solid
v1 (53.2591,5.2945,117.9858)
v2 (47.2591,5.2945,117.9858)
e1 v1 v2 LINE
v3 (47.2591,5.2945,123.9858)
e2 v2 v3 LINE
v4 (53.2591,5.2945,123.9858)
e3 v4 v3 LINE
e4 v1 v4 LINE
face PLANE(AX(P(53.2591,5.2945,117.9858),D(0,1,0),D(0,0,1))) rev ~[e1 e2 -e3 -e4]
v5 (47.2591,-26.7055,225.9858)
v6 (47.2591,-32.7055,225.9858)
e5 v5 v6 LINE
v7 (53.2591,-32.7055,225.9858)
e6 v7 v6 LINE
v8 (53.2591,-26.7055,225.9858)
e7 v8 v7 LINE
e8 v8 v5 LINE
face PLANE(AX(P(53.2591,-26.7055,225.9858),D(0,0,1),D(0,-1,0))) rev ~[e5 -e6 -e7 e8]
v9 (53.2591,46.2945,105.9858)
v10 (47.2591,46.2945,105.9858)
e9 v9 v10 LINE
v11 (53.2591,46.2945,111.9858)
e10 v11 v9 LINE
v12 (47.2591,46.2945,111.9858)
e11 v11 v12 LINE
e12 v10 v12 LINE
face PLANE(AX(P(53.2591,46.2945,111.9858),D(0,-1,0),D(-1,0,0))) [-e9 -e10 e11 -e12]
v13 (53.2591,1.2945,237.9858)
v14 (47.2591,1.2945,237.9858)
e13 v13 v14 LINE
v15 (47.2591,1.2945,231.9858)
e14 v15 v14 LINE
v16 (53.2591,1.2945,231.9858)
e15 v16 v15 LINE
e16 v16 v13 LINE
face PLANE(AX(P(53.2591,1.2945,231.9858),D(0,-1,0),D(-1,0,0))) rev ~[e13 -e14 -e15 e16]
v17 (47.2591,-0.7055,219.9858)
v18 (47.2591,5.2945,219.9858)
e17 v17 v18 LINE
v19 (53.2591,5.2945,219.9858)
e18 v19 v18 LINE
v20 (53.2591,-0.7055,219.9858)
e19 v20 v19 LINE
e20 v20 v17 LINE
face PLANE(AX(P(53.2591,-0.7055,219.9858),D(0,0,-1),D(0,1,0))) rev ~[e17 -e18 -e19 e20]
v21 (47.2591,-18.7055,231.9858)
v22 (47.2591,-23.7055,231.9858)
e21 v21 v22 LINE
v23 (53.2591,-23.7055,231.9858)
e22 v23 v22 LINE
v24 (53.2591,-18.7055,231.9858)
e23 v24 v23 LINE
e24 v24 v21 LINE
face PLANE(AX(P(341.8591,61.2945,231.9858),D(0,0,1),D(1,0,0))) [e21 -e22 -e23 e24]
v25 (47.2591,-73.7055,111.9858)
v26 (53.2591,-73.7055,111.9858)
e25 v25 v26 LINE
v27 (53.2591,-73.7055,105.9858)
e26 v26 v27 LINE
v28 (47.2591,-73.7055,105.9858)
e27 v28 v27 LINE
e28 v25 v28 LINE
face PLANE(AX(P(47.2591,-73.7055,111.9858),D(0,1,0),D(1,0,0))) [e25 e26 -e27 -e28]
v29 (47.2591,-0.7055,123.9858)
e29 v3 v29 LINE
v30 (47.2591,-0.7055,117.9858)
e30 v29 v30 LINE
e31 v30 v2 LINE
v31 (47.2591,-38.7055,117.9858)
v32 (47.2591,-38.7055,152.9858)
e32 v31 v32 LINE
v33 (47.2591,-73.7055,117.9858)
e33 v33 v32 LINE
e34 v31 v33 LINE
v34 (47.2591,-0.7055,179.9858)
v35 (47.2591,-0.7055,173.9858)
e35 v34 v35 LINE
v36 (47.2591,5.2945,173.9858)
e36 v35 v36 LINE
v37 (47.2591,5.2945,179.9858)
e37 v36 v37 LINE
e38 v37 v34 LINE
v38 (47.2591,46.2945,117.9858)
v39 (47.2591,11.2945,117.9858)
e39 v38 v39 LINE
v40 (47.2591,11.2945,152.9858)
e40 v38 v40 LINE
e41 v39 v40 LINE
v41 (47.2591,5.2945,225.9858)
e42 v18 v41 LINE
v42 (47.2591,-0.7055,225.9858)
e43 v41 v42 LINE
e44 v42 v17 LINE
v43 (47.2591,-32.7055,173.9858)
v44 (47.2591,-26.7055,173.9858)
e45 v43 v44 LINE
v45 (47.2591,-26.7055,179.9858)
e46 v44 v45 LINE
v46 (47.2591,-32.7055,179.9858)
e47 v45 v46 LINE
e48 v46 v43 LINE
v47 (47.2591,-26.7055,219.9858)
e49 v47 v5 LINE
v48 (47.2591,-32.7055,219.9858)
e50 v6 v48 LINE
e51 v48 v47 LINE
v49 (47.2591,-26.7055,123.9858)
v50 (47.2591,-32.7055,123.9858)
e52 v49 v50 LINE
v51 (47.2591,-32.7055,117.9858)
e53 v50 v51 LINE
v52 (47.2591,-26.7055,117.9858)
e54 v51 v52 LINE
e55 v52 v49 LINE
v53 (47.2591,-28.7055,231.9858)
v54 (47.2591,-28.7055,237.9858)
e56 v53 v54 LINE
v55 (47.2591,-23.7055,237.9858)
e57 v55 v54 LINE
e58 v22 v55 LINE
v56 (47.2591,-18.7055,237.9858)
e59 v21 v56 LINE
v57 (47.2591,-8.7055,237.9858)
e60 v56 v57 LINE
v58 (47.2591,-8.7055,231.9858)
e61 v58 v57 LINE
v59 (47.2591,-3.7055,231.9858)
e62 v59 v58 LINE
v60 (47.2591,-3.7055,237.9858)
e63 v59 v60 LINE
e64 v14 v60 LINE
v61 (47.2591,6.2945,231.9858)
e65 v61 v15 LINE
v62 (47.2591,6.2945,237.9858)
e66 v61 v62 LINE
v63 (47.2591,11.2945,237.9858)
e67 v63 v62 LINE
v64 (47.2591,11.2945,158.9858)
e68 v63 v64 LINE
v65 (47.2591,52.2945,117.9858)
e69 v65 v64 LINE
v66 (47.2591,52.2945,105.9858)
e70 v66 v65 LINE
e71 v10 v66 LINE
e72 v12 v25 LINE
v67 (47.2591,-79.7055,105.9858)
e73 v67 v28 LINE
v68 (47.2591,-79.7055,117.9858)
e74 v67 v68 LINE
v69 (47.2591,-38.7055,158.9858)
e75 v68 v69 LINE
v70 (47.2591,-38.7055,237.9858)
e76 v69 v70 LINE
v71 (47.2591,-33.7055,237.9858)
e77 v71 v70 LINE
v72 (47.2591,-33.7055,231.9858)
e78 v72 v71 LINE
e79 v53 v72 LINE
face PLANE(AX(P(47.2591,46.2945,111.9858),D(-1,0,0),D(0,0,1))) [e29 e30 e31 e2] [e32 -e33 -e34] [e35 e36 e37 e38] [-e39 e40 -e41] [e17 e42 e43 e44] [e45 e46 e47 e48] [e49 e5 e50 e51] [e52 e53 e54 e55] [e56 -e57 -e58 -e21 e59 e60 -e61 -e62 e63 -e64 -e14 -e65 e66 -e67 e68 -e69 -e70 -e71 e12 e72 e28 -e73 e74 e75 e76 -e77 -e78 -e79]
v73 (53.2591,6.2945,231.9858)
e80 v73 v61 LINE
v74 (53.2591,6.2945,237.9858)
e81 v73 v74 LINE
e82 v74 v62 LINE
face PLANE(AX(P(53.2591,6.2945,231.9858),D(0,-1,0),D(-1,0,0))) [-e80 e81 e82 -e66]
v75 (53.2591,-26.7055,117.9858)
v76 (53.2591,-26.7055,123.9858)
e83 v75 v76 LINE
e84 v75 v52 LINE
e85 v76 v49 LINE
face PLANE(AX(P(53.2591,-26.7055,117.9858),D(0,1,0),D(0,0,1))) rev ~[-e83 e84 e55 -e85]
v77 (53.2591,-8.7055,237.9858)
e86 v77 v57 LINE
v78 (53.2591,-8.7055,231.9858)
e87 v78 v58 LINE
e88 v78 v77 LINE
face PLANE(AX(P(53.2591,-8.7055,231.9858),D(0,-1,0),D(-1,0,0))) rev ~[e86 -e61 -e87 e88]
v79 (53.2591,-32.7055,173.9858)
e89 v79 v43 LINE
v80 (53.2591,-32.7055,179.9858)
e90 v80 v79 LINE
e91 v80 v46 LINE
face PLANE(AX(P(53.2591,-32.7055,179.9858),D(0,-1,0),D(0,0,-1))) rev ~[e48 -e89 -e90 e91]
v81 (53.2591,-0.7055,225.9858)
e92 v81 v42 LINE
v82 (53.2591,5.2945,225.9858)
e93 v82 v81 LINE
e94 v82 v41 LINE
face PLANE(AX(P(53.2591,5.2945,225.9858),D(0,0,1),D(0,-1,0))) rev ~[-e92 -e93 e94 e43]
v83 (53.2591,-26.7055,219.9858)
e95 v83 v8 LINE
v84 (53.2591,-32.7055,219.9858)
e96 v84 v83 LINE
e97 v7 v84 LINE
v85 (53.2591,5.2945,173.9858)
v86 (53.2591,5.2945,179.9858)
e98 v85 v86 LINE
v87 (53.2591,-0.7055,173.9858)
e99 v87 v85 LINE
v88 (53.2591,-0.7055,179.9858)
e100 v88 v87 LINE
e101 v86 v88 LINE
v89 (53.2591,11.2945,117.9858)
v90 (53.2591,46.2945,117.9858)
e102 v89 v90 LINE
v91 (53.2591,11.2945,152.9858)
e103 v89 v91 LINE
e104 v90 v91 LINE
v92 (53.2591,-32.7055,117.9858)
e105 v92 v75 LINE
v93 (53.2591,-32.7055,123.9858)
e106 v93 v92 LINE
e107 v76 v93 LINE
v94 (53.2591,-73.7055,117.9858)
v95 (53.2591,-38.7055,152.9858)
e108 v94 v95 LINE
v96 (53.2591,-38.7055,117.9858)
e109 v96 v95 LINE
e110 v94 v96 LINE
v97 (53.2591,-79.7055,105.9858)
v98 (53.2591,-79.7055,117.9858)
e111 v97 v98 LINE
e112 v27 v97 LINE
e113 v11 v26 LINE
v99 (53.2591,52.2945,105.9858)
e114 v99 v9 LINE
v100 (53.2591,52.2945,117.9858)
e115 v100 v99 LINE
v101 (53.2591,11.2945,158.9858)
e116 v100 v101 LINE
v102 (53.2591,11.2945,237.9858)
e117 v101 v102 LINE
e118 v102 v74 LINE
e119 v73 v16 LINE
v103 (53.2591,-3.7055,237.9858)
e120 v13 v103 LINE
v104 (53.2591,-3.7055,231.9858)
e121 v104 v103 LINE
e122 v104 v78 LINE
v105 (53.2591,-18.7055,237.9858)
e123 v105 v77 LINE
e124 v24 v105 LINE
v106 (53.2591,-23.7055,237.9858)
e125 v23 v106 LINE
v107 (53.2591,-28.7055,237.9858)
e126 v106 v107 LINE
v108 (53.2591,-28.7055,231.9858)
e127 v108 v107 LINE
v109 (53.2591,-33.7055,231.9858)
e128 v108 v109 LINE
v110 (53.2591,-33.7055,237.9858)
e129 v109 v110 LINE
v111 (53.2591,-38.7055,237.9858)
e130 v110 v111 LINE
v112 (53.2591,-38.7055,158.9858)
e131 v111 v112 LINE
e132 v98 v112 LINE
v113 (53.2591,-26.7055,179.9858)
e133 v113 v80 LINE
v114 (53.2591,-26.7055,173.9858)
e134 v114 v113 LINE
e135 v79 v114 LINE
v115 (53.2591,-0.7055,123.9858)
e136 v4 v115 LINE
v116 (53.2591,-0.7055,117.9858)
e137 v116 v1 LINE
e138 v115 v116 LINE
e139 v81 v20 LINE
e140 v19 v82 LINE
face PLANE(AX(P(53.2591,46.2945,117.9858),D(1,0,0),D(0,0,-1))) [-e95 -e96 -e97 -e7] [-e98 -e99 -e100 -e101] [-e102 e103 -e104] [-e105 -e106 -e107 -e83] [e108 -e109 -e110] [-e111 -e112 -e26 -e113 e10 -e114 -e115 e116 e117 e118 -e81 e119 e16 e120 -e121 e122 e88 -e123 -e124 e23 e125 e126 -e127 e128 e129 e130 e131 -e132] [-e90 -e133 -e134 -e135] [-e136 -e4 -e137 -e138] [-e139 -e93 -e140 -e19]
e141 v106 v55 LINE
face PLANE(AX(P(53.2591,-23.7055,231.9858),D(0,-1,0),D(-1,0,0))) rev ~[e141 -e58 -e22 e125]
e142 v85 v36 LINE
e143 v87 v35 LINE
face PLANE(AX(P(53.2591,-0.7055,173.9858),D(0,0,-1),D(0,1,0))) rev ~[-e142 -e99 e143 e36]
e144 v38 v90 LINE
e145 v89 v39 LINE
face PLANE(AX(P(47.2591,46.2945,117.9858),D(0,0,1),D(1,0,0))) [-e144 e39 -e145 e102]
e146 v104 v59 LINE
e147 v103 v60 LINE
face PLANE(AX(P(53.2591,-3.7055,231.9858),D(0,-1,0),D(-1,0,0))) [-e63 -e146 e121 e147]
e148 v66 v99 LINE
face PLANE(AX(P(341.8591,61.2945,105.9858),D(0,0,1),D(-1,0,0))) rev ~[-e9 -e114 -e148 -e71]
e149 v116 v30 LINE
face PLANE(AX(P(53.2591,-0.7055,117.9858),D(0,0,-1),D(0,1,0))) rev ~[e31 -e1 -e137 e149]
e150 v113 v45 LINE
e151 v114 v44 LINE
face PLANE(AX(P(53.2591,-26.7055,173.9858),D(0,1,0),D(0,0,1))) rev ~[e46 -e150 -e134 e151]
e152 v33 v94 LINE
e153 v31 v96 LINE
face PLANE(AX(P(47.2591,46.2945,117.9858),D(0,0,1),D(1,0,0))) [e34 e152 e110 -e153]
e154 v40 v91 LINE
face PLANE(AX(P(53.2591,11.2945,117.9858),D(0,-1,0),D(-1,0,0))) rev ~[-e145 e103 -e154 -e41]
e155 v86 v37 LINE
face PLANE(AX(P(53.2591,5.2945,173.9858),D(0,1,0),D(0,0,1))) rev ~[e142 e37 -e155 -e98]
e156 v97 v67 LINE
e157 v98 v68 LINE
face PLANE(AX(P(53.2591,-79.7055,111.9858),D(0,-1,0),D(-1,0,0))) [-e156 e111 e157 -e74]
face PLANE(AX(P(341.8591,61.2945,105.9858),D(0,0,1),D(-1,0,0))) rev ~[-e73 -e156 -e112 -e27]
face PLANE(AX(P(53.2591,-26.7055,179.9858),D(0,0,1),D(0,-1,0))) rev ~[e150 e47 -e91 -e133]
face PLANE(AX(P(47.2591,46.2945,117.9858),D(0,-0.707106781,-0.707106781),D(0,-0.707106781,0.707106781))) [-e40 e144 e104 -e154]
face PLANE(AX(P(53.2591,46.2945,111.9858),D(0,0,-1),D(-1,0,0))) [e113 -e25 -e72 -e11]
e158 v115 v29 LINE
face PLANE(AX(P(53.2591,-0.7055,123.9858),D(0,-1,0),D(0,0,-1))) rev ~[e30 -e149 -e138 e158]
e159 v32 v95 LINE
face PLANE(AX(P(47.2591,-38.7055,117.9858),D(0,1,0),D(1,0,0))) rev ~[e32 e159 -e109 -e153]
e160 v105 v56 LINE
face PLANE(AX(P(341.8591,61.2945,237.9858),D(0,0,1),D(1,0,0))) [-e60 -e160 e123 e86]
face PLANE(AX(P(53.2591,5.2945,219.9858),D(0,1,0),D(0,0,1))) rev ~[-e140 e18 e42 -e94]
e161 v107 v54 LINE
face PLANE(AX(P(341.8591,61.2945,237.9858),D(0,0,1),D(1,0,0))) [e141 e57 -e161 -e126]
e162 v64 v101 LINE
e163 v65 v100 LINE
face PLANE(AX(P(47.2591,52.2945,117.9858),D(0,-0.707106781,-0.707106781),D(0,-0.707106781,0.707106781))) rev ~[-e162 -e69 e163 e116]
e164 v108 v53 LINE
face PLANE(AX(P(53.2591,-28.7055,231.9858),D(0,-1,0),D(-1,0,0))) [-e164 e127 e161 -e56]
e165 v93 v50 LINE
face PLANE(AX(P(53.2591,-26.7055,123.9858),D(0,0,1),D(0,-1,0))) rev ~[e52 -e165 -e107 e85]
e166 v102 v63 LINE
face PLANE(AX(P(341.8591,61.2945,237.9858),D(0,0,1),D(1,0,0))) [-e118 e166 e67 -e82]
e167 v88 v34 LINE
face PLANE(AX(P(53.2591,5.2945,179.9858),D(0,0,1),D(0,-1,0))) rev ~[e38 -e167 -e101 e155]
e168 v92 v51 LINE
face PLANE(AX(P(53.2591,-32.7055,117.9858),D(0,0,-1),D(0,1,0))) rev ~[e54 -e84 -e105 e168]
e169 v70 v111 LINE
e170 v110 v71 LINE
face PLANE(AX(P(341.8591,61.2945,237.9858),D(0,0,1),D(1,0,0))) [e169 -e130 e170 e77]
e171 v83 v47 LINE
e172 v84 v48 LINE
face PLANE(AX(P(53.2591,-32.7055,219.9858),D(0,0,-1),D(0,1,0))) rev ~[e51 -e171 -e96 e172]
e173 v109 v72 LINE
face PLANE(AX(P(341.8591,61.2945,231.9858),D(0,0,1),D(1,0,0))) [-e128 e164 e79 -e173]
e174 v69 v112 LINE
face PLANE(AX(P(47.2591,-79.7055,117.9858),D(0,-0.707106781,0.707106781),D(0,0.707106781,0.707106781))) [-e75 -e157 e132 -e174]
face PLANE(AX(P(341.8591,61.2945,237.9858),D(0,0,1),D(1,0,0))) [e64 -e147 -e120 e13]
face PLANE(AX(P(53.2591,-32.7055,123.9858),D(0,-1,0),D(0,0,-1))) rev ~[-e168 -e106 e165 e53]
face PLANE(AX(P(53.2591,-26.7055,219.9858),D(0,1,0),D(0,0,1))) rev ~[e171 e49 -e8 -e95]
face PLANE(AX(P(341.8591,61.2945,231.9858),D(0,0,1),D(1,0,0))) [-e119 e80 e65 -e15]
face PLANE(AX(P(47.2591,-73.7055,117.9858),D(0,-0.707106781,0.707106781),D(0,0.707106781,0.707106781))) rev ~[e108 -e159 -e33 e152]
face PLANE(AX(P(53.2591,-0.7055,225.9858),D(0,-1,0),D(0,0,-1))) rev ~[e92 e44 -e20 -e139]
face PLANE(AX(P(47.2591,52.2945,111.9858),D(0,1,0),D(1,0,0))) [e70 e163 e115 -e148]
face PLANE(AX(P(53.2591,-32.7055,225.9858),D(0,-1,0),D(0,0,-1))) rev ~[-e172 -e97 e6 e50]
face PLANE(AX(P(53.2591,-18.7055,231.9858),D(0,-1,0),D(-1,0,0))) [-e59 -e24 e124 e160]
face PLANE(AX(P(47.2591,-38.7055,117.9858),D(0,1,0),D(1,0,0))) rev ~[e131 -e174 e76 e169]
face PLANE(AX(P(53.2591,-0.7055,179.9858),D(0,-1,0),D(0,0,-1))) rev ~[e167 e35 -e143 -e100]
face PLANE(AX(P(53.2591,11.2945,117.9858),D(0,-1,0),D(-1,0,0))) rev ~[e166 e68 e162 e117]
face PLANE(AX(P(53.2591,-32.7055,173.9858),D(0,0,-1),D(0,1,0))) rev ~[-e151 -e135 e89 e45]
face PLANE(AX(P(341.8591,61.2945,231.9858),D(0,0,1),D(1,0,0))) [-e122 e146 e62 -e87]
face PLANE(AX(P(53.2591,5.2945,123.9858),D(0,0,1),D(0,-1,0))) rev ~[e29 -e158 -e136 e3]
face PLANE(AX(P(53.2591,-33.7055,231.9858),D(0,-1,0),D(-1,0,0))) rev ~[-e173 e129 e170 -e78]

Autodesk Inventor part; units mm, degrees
ref_plane "YZ Plane" through (0, 0, 0) normal (1, 0, 0) x (0, 1, 0)
ref_plane "XZ Plane" through (0, 0, 0) normal (0, 1, 0) x (-1, 0, 0)
ref_plane "XY Plane" through (0, 0, 0) normal (0, 0, 1) x (1, 0, 0)
ref_plane "Work Plane1" through (341.8591, 61.2945, 111.9858) normal (0, 0, 1) x (-1, 0, 0)
sketch "Sketch1" plane through (341.8591, 61.2945, 111.9858) normal (0, 0, 1) x (-1, 0, 0)
  line L0 (-28.8, 19.9) -> (-22.6, 19.9)
  line L1 (-28.8, 3) -> (-28.8, 19.9)
  line L2 (-28.8, 3) -> (262.8, 3)
  line L3 (262.8, 3) -> (262.8, -3)
  line L4 (262.8, -3) -> (-28.8, -3)
  line L5 (-28.8, -19.9) -> (-28.8, -3)
  line L6 (-13.3962, -19.9) -> (-28.8, -19.9)
  line L7 (-8.2, -22.9) -> (-13.3962, -19.9)
  line L8 (-8.2, -19.9) -> (-8.2, -22.9)
  arc A0 (-6.2, -19.9) -> (-8.2, -19.9) centre (-7.2, -19.9) ccw
  line L9 (-6.2, -22.9) -> (-6.2, -19.9)
  line L10 (-1.0038, -19.9) -> (-6.2, -22.9)
  line L11 (15.4038, -19.9) -> (-1.0038, -19.9)
  line L12 (20.6, -22.9) -> (15.4038, -19.9)
  line L13 (20.6, -19.9) -> (20.6, -22.9)
  arc A1 (22.6, -19.9) -> (20.6, -19.9) centre (21.6, -19.9) ccw
  line L14 (22.6, -22.9) -> (22.6, -19.9)
  line L15 (27.7962, -19.9) -> (22.6, -22.9)
  line L16 (44.2038, -19.9) -> (27.7962, -19.9)
  line L17 (49.4, -22.9) -> (44.2038, -19.9)
  line L18 (49.4, -19.9) -> (49.4, -22.9)
  arc A2 (51.4, -19.9) -> (49.4, -19.9) centre (50.4, -19.9) ccw
  line L19 (51.4, -22.9) -> (51.4, -19.9)
  line L20 (56.5962, -19.9) -> (51.4, -22.9)
  line L21 (73.0038, -19.9) -> (56.5962, -19.9)
  line L22 (78.2, -22.9) -> (73.0038, -19.9)
  line L23 (78.2, -19.9) -> (78.2, -22.9)
  arc A3 (80.2, -19.9) -> (78.2, -19.9) centre (79.2, -19.9) ccw
  line L24 (80.2, -22.9) -> (80.2, -19.9)
  line L25 (85.3962, -19.9) -> (80.2, -22.9)
  line L26 (101.8038, -19.9) -> (85.3962, -19.9)
  line L27 (107, -22.9) -> (101.8038, -19.9)
  line L28 (107, -19.9) -> (107, -22.9)
  arc A4 (109, -19.9) -> (107, -19.9) centre (108, -19.9) ccw
  line L29 (109, -22.9) -> (109, -19.9)
  line L30 (114.1962, -19.9) -> (109, -22.9)
  line L31 (130.6038, -19.9) -> (114.1962, -19.9)
  line L32 (135.8, -22.9) -> (130.6038, -19.9)
  line L33 (135.8, -19.9) -> (135.8, -22.9)
  arc A5 (137.8, -19.9) -> (135.8, -19.9) centre (136.8, -19.9) ccw
  line L34 (137.8, -22.9) -> (137.8, -19.9)
  line L35 (142.9962, -19.9) -> (137.8, -22.9)
  line L36 (159.4038, -19.9) -> (142.9962, -19.9)
  line L37 (164.6, -22.9) -> (159.4038, -19.9)
  line L38 (164.6, -19.9) -> (164.6, -22.9)
  arc A6 (166.6, -19.9) -> (164.6, -19.9) centre (165.6, -19.9) ccw
  line L39 (166.6, -22.9) -> (166.6, -19.9)
  line L40 (171.7962, -19.9) -> (166.6, -22.9)
  line L41 (188.2038, -19.9) -> (171.7962, -19.9)
  line L42 (193.4, -22.9) -> (188.2038, -19.9)
  line L43 (193.4, -19.9) -> (193.4, -22.9)
  arc A7 (195.4, -19.9) -> (193.4, -19.9) centre (194.4, -19.9) ccw
  line L44 (195.4, -22.9) -> (195.4, -19.9)
  line L45 (200.5962, -19.9) -> (195.4, -22.9)
  line L46 (217.0038, -19.9) -> (200.5962, -19.9)
  line L47 (222.2, -22.9) -> (217.0038, -19.9)
  line L48 (222.2, -19.9) -> (222.2, -22.9)
  arc A8 (224.2, -19.9) -> (222.2, -19.9) centre (223.2, -19.9) ccw
  line L49 (224.2, -22.9) -> (224.2, -19.9)
  line L50 (229.3962, -19.9) -> (224.2, -22.9)
  line L51 (245.8038, -19.9) -> (229.3962, -19.9)
  line L52 (251, -22.9) -> (245.8038, -19.9)
  line L53 (251, -19.9) -> (251, -22.9)
  arc A9 (253, -19.9) -> (251, -19.9) centre (252, -19.9) ccw
  line L54 (253, -22.9) -> (253, -19.9)
  line L55 (258.1962, -19.9) -> (253, -22.9)
  line L56 (274.6038, -19.9) -> (258.1962, -19.9)
  line L57 (279.8, -22.9) -> (274.6038, -19.9)
  line L58 (279.8, -19.9) -> (279.8, -22.9)
  arc A10 (281.8, -19.9) -> (279.8, -19.9) centre (280.8, -19.9) ccw
  line L59 (281.8, -22.9) -> (281.8, -19.9)
  line L60 (286.9962, -19.9) -> (281.8, -22.9)
  line L61 (303.4038, -19.9) -> (286.9962, -19.9)
  line L62 (308.6, -22.9) -> (303.4038, -19.9)
  line L63 (308.6, -19.9) -> (308.6, -22.9)
  arc A11 (310.6, -19.9) -> (308.6, -19.9) centre (309.6, -19.9) ccw
  line L64 (310.6, -22.9) -> (310.6, -19.9)
  line L65 (315.7962, -19.9) -> (310.6, -22.9)
  line L66 (332.2038, -19.9) -> (315.7962, -19.9)
  line L67 (337.4, -22.9) -> (332.2038, -19.9)
  line L68 (337.4, -19.9) -> (337.4, -22.9)
  arc A12 (339.4, -19.9) -> (337.4, -19.9) centre (338.4, -19.9) ccw
  line L69 (339.4, -22.9) -> (339.4, -19.9)
  line L70 (344.5962, -19.9) -> (339.4, -22.9)
  line L71 (361.0038, -19.9) -> (344.5962, -19.9)
  line L72 (366.2, -22.9) -> (361.0038, -19.9)
  line L73 (366.2, -19.9) -> (366.2, -22.9)
  arc A13 (368.2, -19.9) -> (366.2, -19.9) centre (367.2, -19.9) ccw
  line L74 (368.2, -22.9) -> (368.2, -19.9)
  line L75 (373.3962, -19.9) -> (368.2, -22.9)
  line L76 (389.8038, -19.9) -> (373.3962, -19.9)
  line L77 (395, -22.9) -> (389.8038, -19.9)
  line L78 (395, -19.9) -> (395, -22.9)
  arc A14 (397, -19.9) -> (395, -19.9) centre (396, -19.9) ccw
  line L79 (397, -22.9) -> (397, -19.9)
  line L80 (402.1962, -19.9) -> (397, -22.9)
  line L81 (418.6038, -19.9) -> (402.1962, -19.9)
  line L82 (423.8, -22.9) -> (418.6038, -19.9)
  line L83 (423.8, -19.9) -> (423.8, -22.9)
  arc A15 (425.8, -19.9) -> (423.8, -19.9) centre (424.8, -19.9) ccw
  line L84 (425.8, -22.9) -> (425.8, -19.9)
  line L85 (430.9962, -19.9) -> (425.8, -22.9)
  line L86 (447.4038, -19.9) -> (430.9962, -19.9)
  line L87 (452.6, -22.9) -> (447.4038, -19.9)
  line L88 (452.6, -19.9) -> (452.6, -22.9)
  arc A16 (454.6, -19.9) -> (452.6, -19.9) centre (453.6, -19.9) ccw
  line L89 (454.6, -22.9) -> (454.6, -19.9)
  line L90 (459.7962, -19.9) -> (454.6, -22.9)
  line L91 (476.2038, -19.9) -> (459.7962, -19.9)
  line L92 (481.4, -22.9) -> (476.2038, -19.9)
  line L93 (481.4, -19.9) -> (481.4, -22.9)
  arc A17 (483.4, -19.9) -> (481.4, -19.9) centre (482.4, -19.9) ccw
  line L94 (483.4, -22.9) -> (483.4, -19.9)
  line L95 (488.5962, -19.9) -> (483.4, -22.9)
  line L96 (505.0038, -19.9) -> (488.5962, -19.9)
  line L97 (510.2, -22.9) -> (505.0038, -19.9)
  line L98 (510.2, -19.9) -> (510.2, -22.9)
  arc A18 (512.2, -19.9) -> (510.2, -19.9) centre (511.2, -19.9) ccw
  line L99 (512.2, -22.9) -> (512.2, -19.9)
  line L100 (517.3962, -19.9) -> (512.2, -22.9)
  line L101 (533.8038, -19.9) -> (517.3962, -19.9)
  line L102 (539, -22.9) -> (533.8038, -19.9)
  line L103 (539, -19.9) -> (539, -22.9)
  arc A19 (541, -19.9) -> (539, -19.9) centre (540, -19.9) ccw
  line L104 (541, -22.9) -> (541, -19.9)
  line L105 (546.1962, -19.9) -> (541, -22.9)
  line L106 (546.1962, -19.9) -> (554.4, -19.9)
  line L107 (554.4, 19.9) -> (554.4, -19.9)
  line L108 (531.7962, 19.9) -> (554.4, 19.9)
  line L109 (526.6, 22.9) -> (531.7962, 19.9)
  line L110 (526.6, 19.9) -> (526.6, 22.9)
  arc A20 (524.6, 19.9) -> (526.6, 19.9) centre (525.6, 19.9) ccw
  line L111 (524.6, 22.9) -> (524.6, 19.9)
  line L112 (519.4038, 19.9) -> (524.6, 22.9)
  line L113 (502.9962, 19.9) -> (519.4038, 19.9)
  line L114 (497.8, 22.9) -> (502.9962, 19.9)
  line L115 (497.8, 19.9) -> (497.8, 22.9)
  arc A21 (495.8, 19.9) -> (497.8, 19.9) centre (496.8, 19.9) ccw
  line L116 (495.8, 22.9) -> (495.8, 19.9)
  line L117 (490.6038, 19.9) -> (495.8, 22.9)
  line L118 (474.1962, 19.9) -> (490.6038, 19.9)
  line L119 (469, 22.9) -> (474.1962, 19.9)
  line L120 (469, 19.9) -> (469, 22.9)
  arc A22 (467, 19.9) -> (469, 19.9) centre (468, 19.9) ccw
  line L121 (467, 22.9) -> (467, 19.9)
  line L122 (461.8038, 19.9) -> (467, 22.9)
  line L123 (445.3962, 19.9) -> (461.8038, 19.9)
  line L124 (440.2, 22.9) -> (445.3962, 19.9)
  line L125 (440.2, 19.9) -> (440.2, 22.9)
  arc A23 (438.2, 19.9) -> (440.2, 19.9) centre (439.2, 19.9) ccw
  line L126 (438.2, 22.9) -> (438.2, 19.9)
  line L127 (433.0038, 19.9) -> (438.2, 22.9)
  line L128 (416.5962, 19.9) -> (433.0038, 19.9)
  line L129 (411.4, 22.9) -> (416.5962, 19.9)
  line L130 (411.4, 19.9) -> (411.4, 22.9)
  arc A24 (409.4, 19.9) -> (411.4, 19.9) centre (410.4, 19.9) ccw
  line L131 (409.4, 22.9) -> (409.4, 19.9)
  line L132 (404.2038, 19.9) -> (409.4, 22.9)
  line L133 (387.7962, 19.9) -> (404.2038, 19.9)
  line L134 (382.6, 22.9) -> (387.7962, 19.9)
  line L135 (382.6, 19.9) -> (382.6, 22.9)
  arc A25 (380.6, 19.9) -> (382.6, 19.9) centre (381.6, 19.9) ccw
  line L136 (380.6, 22.9) -> (380.6, 19.9)
  line L137 (375.4038, 19.9) -> (380.6, 22.9)
  line L138 (358.9962, 19.9) -> (375.4038, 19.9)
  line L139 (353.8, 22.9) -> (358.9962, 19.9)
  line L140 (353.8, 19.9) -> (353.8, 22.9)
  arc A26 (351.8, 19.9) -> (353.8, 19.9) centre (352.8, 19.9) ccw
  line L141 (351.8, 22.9) -> (351.8, 19.9)
  line L142 (346.6038, 19.9) -> (351.8, 22.9)
  line L143 (330.1962, 19.9) -> (346.6038, 19.9)
  line L144 (325, 22.9) -> (330.1962, 19.9)
  line L145 (325, 19.9) -> (325, 22.9)
  arc A27 (323, 19.9) -> (325, 19.9) centre (324, 19.9) ccw
  line L146 (323, 22.9) -> (323, 19.9)
  line L147 (317.8038, 19.9) -> (323, 22.9)
  line L148 (301.3962, 19.9) -> (317.8038, 19.9)
  line L149 (296.2, 22.9) -> (301.3962, 19.9)
  line L150 (296.2, 19.9) -> (296.2, 22.9)
  arc A28 (294.2, 19.9) -> (296.2, 19.9) centre (295.2, 19.9) ccw
  line L151 (294.2, 22.9) -> (294.2, 19.9)
  line L152 (289.0038, 19.9) -> (294.2, 22.9)
  line L153 (272.5962, 19.9) -> (289.0038, 19.9)
  line L154 (267.4, 22.9) -> (272.5962, 19.9)
  line L155 (267.4, 19.9) -> (267.4, 22.9)
  arc A29 (265.4, 19.9) -> (267.4, 19.9) centre (266.4, 19.9) ccw
  line L156 (265.4, 22.9) -> (265.4, 19.9)
  line L157 (260.2038, 19.9) -> (265.4, 22.9)
  line L158 (243.7962, 19.9) -> (260.2038, 19.9)
  line L159 (238.6, 22.9) -> (243.7962, 19.9)
  line L160 (238.6, 19.9) -> (238.6, 22.9)
  arc A30 (236.6, 19.9) -> (238.6, 19.9) centre (237.6, 19.9) ccw
  line L161 (236.6, 22.9) -> (236.6, 19.9)
  line L162 (231.4038, 19.9) -> (236.6, 22.9)
  line L163 (214.9962, 19.9) -> (231.4038, 19.9)
  line L164 (209.8, 22.9) -> (214.9962, 19.9)
  line L165 (209.8, 19.9) -> (209.8, 22.9)
  arc A31 (207.8, 19.9) -> (209.8, 19.9) centre (208.8, 19.9) ccw
  line L166 (207.8, 22.9) -> (207.8, 19.9)
  line L167 (202.6038, 19.9) -> (207.8, 22.9)
  line L168 (186.1962, 19.9) -> (202.6038, 19.9)
  line L169 (181, 22.9) -> (186.1962, 19.9)
  line L170 (181, 19.9) -> (181, 22.9)
  arc A32 (179, 19.9) -> (181, 19.9) centre (180, 19.9) ccw
  line L171 (179, 22.9) -> (179, 19.9)
  line L172 (173.8038, 19.9) -> (179, 22.9)
  line L173 (157.3962, 19.9) -> (173.8038, 19.9)
  line L174 (152.2, 22.9) -> (157.3962, 19.9)
  line L175 (152.2, 19.9) -> (152.2, 22.9)
  arc A33 (150.2, 19.9) -> (152.2, 19.9) centre (151.2, 19.9) ccw
  line L176 (150.2, 22.9) -> (150.2, 19.9)
  line L177 (145.0038, 19.9) -> (150.2, 22.9)
  line L178 (128.5962, 19.9) -> (145.0038, 19.9)
  line L179 (123.4, 22.9) -> (128.5962, 19.9)
  line L180 (123.4, 19.9) -> (123.4, 22.9)
  arc A34 (121.4, 19.9) -> (123.4, 19.9) centre (122.4, 19.9) ccw
  line L181 (121.4, 22.9) -> (121.4, 19.9)
  line L182 (116.2038, 19.9) -> (121.4, 22.9)
  line L183 (99.7962, 19.9) -> (116.2038, 19.9)
  line L184 (94.6, 22.9) -> (99.7962, 19.9)
  line L185 (94.6, 19.9) -> (94.6, 22.9)
  arc A35 (92.6, 19.9) -> (94.6, 19.9) centre (93.6, 19.9) ccw
  line L186 (92.6, 22.9) -> (92.6, 19.9)
  line L187 (87.4038, 19.9) -> (92.6, 22.9)
  line L188 (70.9962, 19.9) -> (87.4038, 19.9)
  line L189 (65.8, 22.9) -> (70.9962, 19.9)
  line L190 (65.8, 19.9) -> (65.8, 22.9)
  arc A36 (63.8, 19.9) -> (65.8, 19.9) centre (64.8, 19.9) ccw
  line L191 (63.8, 22.9) -> (63.8, 19.9)
  line L192 (58.6038, 19.9) -> (63.8, 22.9)
  line L193 (42.1962, 19.9) -> (58.6038, 19.9)
  line L194 (37, 22.9) -> (42.1962, 19.9)
  line L195 (37, 19.9) -> (37, 22.9)
  arc A37 (35, 19.9) -> (37, 19.9) centre (36, 19.9) ccw
  line L196 (35, 22.9) -> (35, 19.9)
  line L197 (29.8038, 19.9) -> (35, 22.9)
  line L198 (13.3962, 19.9) -> (29.8038, 19.9)
  line L199 (8.2, 22.9) -> (13.3962, 19.9)
  line L200 (8.2, 19.9) -> (8.2, 22.9)
  arc A38 (6.2, 19.9) -> (8.2, 19.9) centre (7.2, 19.9) ccw
  line L201 (6.2, 22.9) -> (6.2, 19.9)
  line L202 (1.0038, 19.9) -> (6.2, 22.9)
  line L203 (-15.4038, 19.9) -> (1.0038, 19.9)
  line L204 (-20.6, 22.9) -> (-15.4038, 19.9)
  line L205 (-20.6, 19.9) -> (-20.6, 22.9)
  arc A39 (-22.6, 19.9) -> (-20.6, 19.9) centre (-21.6, 19.9) ccw
  line L206 (525, 9) -> (519, 9)
  line L207 (519, 9) -> (519, 15)
  line L208 (519, 15) -> (525, 15)
  line L209 (525, 15) -> (525, 9)
  line L210 (525, -9) -> (525, -15)
  line L211 (525, -15) -> (519, -15)
  line L212 (519, -15) -> (519, -9)
  line L213 (519, -9) -> (525, -9)
  line L214 (467.4, 9) -> (461.4, 9)
  line L215 (461.4, 9) -> (461.4, 15)
  line L216 (461.4, 15) -> (467.4, 15)
  line L217 (467.4, 15) -> (467.4, 9)
  line L218 (467.4, -9) -> (467.4, -15)
  line L219 (467.4, -15) -> (461.4, -15)
  line L220 (461.4, -15) -> (461.4, -9)
  line L221 (461.4, -9) -> (467.4, -9)
  line L222 (409.8, 9) -> (403.8, 9)
  line L223 (403.8, 9) -> (403.8, 15)
  line L224 (403.8, 15) -> (409.8, 15)
  line L225 (409.8, 15) -> (409.8, 9)
  line L226 (409.8, -9) -> (409.8, -15)
  line L227 (409.8, -15) -> (403.8, -15)
  line L228 (403.8, -15) -> (403.8, -9)
  line L229 (403.8, -9) -> (409.8, -9)
  line L230 (352.2, 9) -> (346.2, 9)
  line L231 (346.2, 9) -> (346.2, 15)
  line L232 (346.2, 15) -> (352.2, 15)
  line L233 (352.2, 15) -> (352.2, 9)
  line L234 (352.2, -9) -> (352.2, -15)
  line L235 (352.2, -15) -> (346.2, -15)
  line L236 (346.2, -15) -> (346.2, -9)
  line L237 (346.2, -9) -> (352.2, -9)
  line L238 (294.6, 9) -> (288.6, 9)
  line L239 (288.6, 9) -> (288.6, 15)
  line L240 (288.6, 15) -> (294.6, 15)
  line L241 (294.6, 15) -> (294.6, 9)
  line L242 (294.6, -9) -> (294.6, -15)
  line L243 (294.6, -15) -> (288.6, -15)
  line L244 (288.6, -15) -> (288.6, -9)
  line L245 (288.6, -9) -> (294.6, -9)
  line L246 (237, 9) -> (231, 9)
  line L247 (231, 9) -> (231, 15)
  line L248 (231, 15) -> (237, 15)
  line L249 (237, 15) -> (237, 9)
  line L250 (237, -9) -> (237, -15)
  line L251 (237, -15) -> (231, -15)
  line L252 (231, -15) -> (231, -9)
  line L253 (231, -9) -> (237, -9)
  line L254 (179.4, 9) -> (173.4, 9)
  line L255 (173.4, 9) -> (173.4, 15)
  line L256 (173.4, 15) -> (179.4, 15)
  line L257 (179.4, 15) -> (179.4, 9)
  line L258 (179.4, -9) -> (179.4, -15)
  line L259 (179.4, -15) -> (173.4, -15)
  line L260 (173.4, -15) -> (173.4, -9)
  line L261 (173.4, -9) -> (179.4, -9)
  line L262 (121.8, 9) -> (115.8, 9)
  line L263 (115.8, 9) -> (115.8, 15)
  line L264 (115.8, 15) -> (121.8, 15)
  line L265 (121.8, 15) -> (121.8, 9)
  line L266 (121.8, -9) -> (121.8, -15)
  line L267 (121.8, -15) -> (115.8, -15)
  line L268 (115.8, -15) -> (115.8, -9)
  line L269 (115.8, -9) -> (121.8, -9)
  line L270 (64.2, 9) -> (58.2, 9)
  line L271 (58.2, 9) -> (58.2, 15)
  line L272 (58.2, 15) -> (64.2, 15)
  line L273 (64.2, 15) -> (64.2, 9)
  line L274 (64.2, -9) -> (64.2, -15)
  line L275 (64.2, -15) -> (58.2, -15)
  line L276 (58.2, -15) -> (58.2, -9)
  line L277 (58.2, -9) -> (64.2, -9)
  line L278 (6.6, 9) -> (0.6, 9)
  line L279 (0.6, 9) -> (0.6, 15)
  line L280 (0.6, 15) -> (6.6, 15)
  line L281 (6.6, 15) -> (6.6, 9)
  line L282 (6.6, -9) -> (6.6, -15)
  line L283 (6.6, -15) -> (0.6, -15)
  line L284 (0.6, -15) -> (0.6, -9)
  line L285 (0.6, -9) -> (6.6, -9)
  line L286 (-28.8, 169.9) -> (-22.6, 169.9)
  line L287 (-28.8, 153) -> (-28.8, 169.9)
  line L288 (-28.8, 153) -> (262.8, 153)
  line L289 (262.8, 153) -> (262.8, 147)
  line L290 (262.8, 147) -> (-28.8, 147)
  line L291 (-28.8, 130.1) -> (-28.8, 147)
  line L292 (-13.3962, 130.1) -> (-28.8, 130.1)
  line L293 (-8.2, 127.1) -> (-13.3962, 130.1)
  line L294 (-8.2, 130.1) -> (-8.2, 127.1)
  arc A40 (-6.2, 130.1) -> (-8.2, 130.1) centre (-7.2, 130.1) ccw
  line L295 (-6.2, 127.1) -> (-6.2, 130.1)
  line L296 (-1.0038, 130.1) -> (-6.2, 127.1)
  line L297 (15.4038, 130.1) -> (-1.0038, 130.1)
  line L298 (20.6, 127.1) -> (15.4038, 130.1)
  line L299 (20.6, 130.1) -> (20.6, 127.1)
  arc A41 (22.6, 130.1) -> (20.6, 130.1) centre (21.6, 130.1) ccw
  line L300 (22.6, 127.1) -> (22.6, 130.1)
  line L301 (27.7962, 130.1) -> (22.6, 127.1)
  line L302 (44.2038, 130.1) -> (27.7962, 130.1)
  line L303 (49.4, 127.1) -> (44.2038, 130.1)
  line L304 (49.4, 130.1) -> (49.4, 127.1)
  arc A42 (51.4, 130.1) -> (49.4, 130.1) centre (50.4, 130.1) ccw
  line L305 (51.4, 127.1) -> (51.4, 130.1)
  line L306 (56.5962, 130.1) -> (51.4, 127.1)
  line L307 (73.0038, 130.1) -> (56.5962, 130.1)
  line L308 (78.2, 127.1) -> (73.0038, 130.1)
  line L309 (78.2, 130.1) -> (78.2, 127.1)
  arc A43 (80.2, 130.1) -> (78.2, 130.1) centre (79.2, 130.1) ccw
  line L310 (80.2, 127.1) -> (80.2, 130.1)
  line L311 (85.3962, 130.1) -> (80.2, 127.1)
  line L312 (101.8038, 130.1) -> (85.3962, 130.1)
  line L313 (107, 127.1) -> (101.8038, 130.1)
  line L314 (107, 130.1) -> (107, 127.1)
  arc A44 (109, 130.1) -> (107, 130.1) centre (108, 130.1) ccw
  line L315 (109, 127.1) -> (109, 130.1)
  line L316 (114.1962, 130.1) -> (109, 127.1)
  line L317 (130.6038, 130.1) -> (114.1962, 130.1)
  line L318 (135.8, 127.1) -> (130.6038, 130.1)
  line L319 (135.8, 130.1) -> (135.8, 127.1)
  arc A45 (137.8, 130.1) -> (135.8, 130.1) centre (136.8, 130.1) ccw
  line L320 (137.8, 127.1) -> (137.8, 130.1)
  line L321 (142.9962, 130.1) -> (137.8, 127.1)
  line L322 (159.4038, 130.1) -> (142.9962, 130.1)
  line L323 (164.6, 127.1) -> (159.4038, 130.1)
  line L324 (164.6, 130.1) -> (164.6, 127.1)
  arc A46 (166.6, 130.1) -> (164.6, 130.1) centre (165.6, 130.1) ccw
  line L325 (166.6, 127.1) -> (166.6, 130.1)
  line L326 (171.7962, 130.1) -> (166.6, 127.1)
  line L327 (188.2038, 130.1) -> (171.7962, 130.1)
  line L328 (193.4, 127.1) -> (188.2038, 130.1)
  line L329 (193.4, 130.1) -> (193.4, 127.1)
  arc A47 (195.4, 130.1) -> (193.4, 130.1) centre (194.4, 130.1) ccw
  line L330 (195.4, 127.1) -> (195.4, 130.1)
  line L331 (200.5962, 130.1) -> (195.4, 127.1)
  line L332 (217.0038, 130.1) -> (200.5962, 130.1)
  line L333 (222.2, 127.1) -> (217.0038, 130.1)
  line L334 (222.2, 130.1) -> (222.2, 127.1)
  arc A48 (224.2, 130.1) -> (222.2, 130.1) centre (223.2, 130.1) ccw
  line L335 (224.2, 127.1) -> (224.2, 130.1)
  line L336 (229.3962, 130.1) -> (224.2, 127.1)
  line L337 (245.8038, 130.1) -> (229.3962, 130.1)
  line L338 (251, 127.1) -> (245.8038, 130.1)
  line L339 (251, 130.1) -> (251, 127.1)
  arc A49 (253, 130.1) -> (251, 130.1) centre (252, 130.1) ccw
  line L340 (253, 127.1) -> (253, 130.1)
  line L341 (258.1962, 130.1) -> (253, 127.1)
  line L342 (274.6038, 130.1) -> (258.1962, 130.1)
  line L343 (279.8, 127.1) -> (274.6038, 130.1)
  line L344 (279.8, 130.1) -> (279.8, 127.1)
  arc A50 (281.8, 130.1) -> (279.8, 130.1) centre (280.8, 130.1) ccw
  line L345 (281.8, 127.1) -> (281.8, 130.1)
  line L346 (286.9962, 130.1) -> (281.8, 127.1)
  line L347 (303.4038, 130.1) -> (286.9962, 130.1)
  line L348 (308.6, 127.1) -> (303.4038, 130.1)
  line L349 (308.6, 130.1) -> (308.6, 127.1)
  arc A51 (310.6, 130.1) -> (308.6, 130.1) centre (309.6, 130.1) ccw
  line L350 (310.6, 127.1) -> (310.6, 130.1)
  line L351 (315.7962, 130.1) -> (310.6, 127.1)
  line L352 (332.2038, 130.1) -> (315.7962, 130.1)
  line L353 (337.4, 127.1) -> (332.2038, 130.1)
  line L354 (337.4, 130.1) -> (337.4, 127.1)
  arc A52 (339.4, 130.1) -> (337.4, 130.1) centre (338.4, 130.1) ccw
  line L355 (339.4, 127.1) -> (339.4, 130.1)
  line L356 (344.5962, 130.1) -> (339.4, 127.1)
  line L357 (361.0038, 130.1) -> (344.5962, 130.1)
  line L358 (366.2, 127.1) -> (361.0038, 130.1)
  line L359 (366.2, 130.1) -> (366.2, 127.1)
  arc A53 (368.2, 130.1) -> (366.2, 130.1) centre (367.2, 130.1) ccw
  line L360 (368.2, 127.1) -> (368.2, 130.1)
  line L361 (373.3962, 130.1) -> (368.2, 127.1)
  line L362 (389.8038, 130.1) -> (373.3962, 130.1)
  line L363 (395, 127.1) -> (389.8038, 130.1)
  line L364 (395, 130.1) -> (395, 127.1)
  arc A54 (397, 130.1) -> (395, 130.1) centre (396, 130.1) ccw
  line L365 (397, 127.1) -> (397, 130.1)
  line L366 (402.1962, 130.1) -> (397, 127.1)
  line L367 (418.6038, 130.1) -> (402.1962, 130.1)
  line L368 (423.8, 127.1) -> (418.6038, 130.1)
  line L369 (423.8, 130.1) -> (423.8, 127.1)
  arc A55 (425.8, 130.1) -> (423.8, 130.1) centre (424.8, 130.1) ccw
  line L370 (425.8, 127.1) -> (425.8, 130.1)
  line L371 (430.9962, 130.1) -> (425.8, 127.1)
  line L372 (447.4038, 130.1) -> (430.9962, 130.1)
  line L373 (452.6, 127.1) -> (447.4038, 130.1)
  line L374 (452.6, 130.1) -> (452.6, 127.1)
  arc A56 (454.6, 130.1) -> (452.6, 130.1) centre (453.6, 130.1) ccw
  line L375 (454.6, 127.1) -> (454.6, 130.1)
  line L376 (459.7962, 130.1) -> (454.6, 127.1)
  line L377 (476.2038, 130.1) -> (459.7962, 130.1)
  line L378 (481.4, 127.1) -> (476.2038, 130.1)
  line L379 (481.4, 130.1) -> (481.4, 127.1)
  arc A57 (483.4, 130.1) -> (481.4, 130.1) centre (482.4, 130.1) ccw
  line L380 (483.4, 127.1) -> (483.4, 130.1)
  line L381 (488.5962, 130.1) -> (483.4, 127.1)
  line L382 (505.0038, 130.1) -> (488.5962, 130.1)
  line L383 (510.2, 127.1) -> (505.0038, 130.1)
  line L384 (510.2, 130.1) -> (510.2, 127.1)
  arc A58 (512.2, 130.1) -> (510.2, 130.1) centre (511.2, 130.1) ccw
  line L385 (512.2, 127.1) -> (512.2, 130.1)
  line L386 (517.3962, 130.1) -> (512.2, 127.1)
  line L387 (533.8038, 130.1) -> (517.3962, 130.1)
  line L388 (539, 127.1) -> (533.8038, 130.1)
  line L389 (539, 130.1) -> (539, 127.1)
  arc A59 (541, 130.1) -> (539, 130.1) centre (540, 130.1) ccw
  line L390 (541, 127.1) -> (541, 130.1)
  line L391 (546.1962, 130.1) -> (541, 127.1)
  line L392 (546.1962, 130.1) -> (554.4, 130.1)
  line L393 (554.4, 169.9) -> (554.4, 130.1)
  line L394 (531.7962, 169.9) -> (554.4, 169.9)
  line L395 (526.6, 172.9) -> (531.7962, 169.9)
  line L396 (526.6, 169.9) -> (526.6, 172.9)
  arc A60 (524.6, 169.9) -> (526.6, 169.9) centre (525.6, 169.9) ccw
  line L397 (524.6, 172.9) -> (524.6, 169.9)
  line L398 (519.4038, 169.9) -> (524.6, 172.9)
  line L399 (502.9962, 169.9) -> (519.4038, 169.9)
  line L400 (497.8, 172.9) -> (502.9962, 169.9)
  line L401 (497.8, 169.9) -> (497.8, 172.9)
  arc A61 (495.8, 169.9) -> (497.8, 169.9) centre (496.8, 169.9) ccw
  line L402 (495.8, 172.9) -> (495.8, 169.9)
  line L403 (490.6038, 169.9) -> (495.8, 172.9)
  line L404 (474.1962, 169.9) -> (490.6038, 169.9)
  line L405 (469, 172.9) -> (474.1962, 169.9)
  line L406 (469, 169.9) -> (469, 172.9)
  arc A62 (467, 169.9) -> (469, 169.9) centre (468, 169.9) ccw
  line L407 (467, 172.9) -> (467, 169.9)
  line L408 (461.8038, 169.9) -> (467, 172.9)
  line L409 (445.3962, 169.9) -> (461.8038, 169.9)
  line L410 (440.2, 172.9) -> (445.3962, 169.9)
  line L411 (440.2, 169.9) -> (440.2, 172.9)
  arc A63 (438.2, 169.9) -> (440.2, 169.9) centre (439.2, 169.9) ccw
  line L412 (438.2, 172.9) -> (438.2, 169.9)
  line L413 (433.0038, 169.9) -> (438.2, 172.9)
  line L414 (416.5962, 169.9) -> (433.0038, 169.9)
  line L415 (411.4, 172.9) -> (416.5962, 169.9)
  line L416 (411.4, 169.9) -> (411.4, 172.9)
  arc A64 (409.4, 169.9) -> (411.4, 169.9) centre (410.4, 169.9) ccw
  line L417 (409.4, 172.9) -> (409.4, 169.9)
  line L418 (404.2038, 169.9) -> (409.4, 172.9)
  line L419 (387.7962, 169.9) -> (404.2038, 169.9)
  line L420 (382.6, 172.9) -> (387.7962, 169.9)
  line L421 (382.6, 169.9) -> (382.6, 172.9)
  arc A65 (380.6, 169.9) -> (382.6, 169.9) centre (381.6, 169.9) ccw
  line L422 (380.6, 172.9) -> (380.6, 169.9)
  line L423 (375.4038, 169.9) -> (380.6, 172.9)
  line L424 (358.9962, 169.9) -> (375.4038, 169.9)
  line L425 (353.8, 172.9) -> (358.9962, 169.9)
  line L426 (353.8, 169.9) -> (353.8, 172.9)
  arc A66 (351.8, 169.9) -> (353.8, 169.9) centre (352.8, 169.9) ccw
  line L427 (351.8, 172.9) -> (351.8, 169.9)
  line L428 (346.6038, 169.9) -> (351.8, 172.9)
  line L429 (330.1962, 169.9) -> (346.6038, 169.9)
  line L430 (325, 172.9) -> (330.1962, 169.9)
  line L431 (325, 169.9) -> (325, 172.9)
  arc A67 (323, 169.9) -> (325, 169.9) centre (324, 169.9) ccw
  line L432 (323, 172.9) -> (323, 169.9)
  line L433 (317.8038, 169.9) -> (323, 172.9)
  line L434 (301.3962, 169.9) -> (317.8038, 169.9)
  line L435 (296.2, 172.9) -> (301.3962, 169.9)
  line L436 (296.2, 169.9) -> (296.2, 172.9)
  arc A68 (294.2, 169.9) -> (296.2, 169.9) centre (295.2, 169.9) ccw
  line L437 (294.2, 172.9) -> (294.2, 169.9)
  line L438 (289.0038, 169.9) -> (294.2, 172.9)
  line L439 (272.5962, 169.9) -> (289.0038, 169.9)
  line L440 (267.4, 172.9) -> (272.5962, 169.9)
  line L441 (267.4, 169.9) -> (267.4, 172.9)
  arc A69 (265.4, 169.9) -> (267.4, 169.9) centre (266.4, 169.9) ccw
  line L442 (265.4, 172.9) -> (265.4, 169.9)
  line L443 (260.2038, 169.9) -> (265.4, 172.9)
  line L444 (243.7962, 169.9) -> (260.2038, 169.9)
  line L445 (238.6, 172.9) -> (243.7962, 169.9)
  line L446 (238.6, 169.9) -> (238.6, 172.9)
  arc A70 (236.6, 169.9) -> (238.6, 169.9) centre (237.6, 169.9) ccw
  line L447 (236.6, 172.9) -> (236.6, 169.9)
  line L448 (231.4038, 169.9) -> (236.6, 172.9)
  line L449 (214.9962, 169.9) -> (231.4038, 169.9)
  line L450 (209.8, 172.9) -> (214.9962, 169.9)
  line L451 (209.8, 169.9) -> (209.8, 172.9)
  arc A71 (207.8, 169.9) -> (209.8, 169.9) centre (208.8, 169.9) ccw
  line L452 (207.8, 172.9) -> (207.8, 169.9)
  line L453 (202.6038, 169.9) -> (207.8, 172.9)
  line L454 (186.1962, 169.9) -> (202.6038, 169.9)
  line L455 (181, 172.9) -> (186.1962, 169.9)
  line L456 (181, 169.9) -> (181, 172.9)
  arc A72 (179, 169.9) -> (181, 169.9) centre (180, 169.9) ccw
  line L457 (179, 172.9) -> (179, 169.9)
  line L458 (173.8038, 169.9) -> (179, 172.9)
  line L459 (157.3962, 169.9) -> (173.8038, 169.9)
  line L460 (152.2, 172.9) -> (157.3962, 169.9)
  line L461 (152.2, 169.9) -> (152.2, 172.9)
  arc A73 (150.2, 169.9) -> (152.2, 169.9) centre (151.2, 169.9) ccw
  line L462 (150.2, 172.9) -> (150.2, 169.9)
  line L463 (145.0038, 169.9) -> (150.2, 172.9)
  line L464 (128.5962, 169.9) -> (145.0038, 169.9)
  line L465 (123.4, 172.9) -> (128.5962, 169.9)
  line L466 (123.4, 169.9) -> (123.4, 172.9)
  arc A74 (121.4, 169.9) -> (123.4, 169.9) centre (122.4, 169.9) ccw
  line L467 (121.4, 172.9) -> (121.4, 169.9)
  line L468 (116.2038, 169.9) -> (121.4, 172.9)
  line L469 (99.7962, 169.9) -> (116.2038, 169.9)
  line L470 (94.6, 172.9) -> (99.7962, 169.9)
  line L471 (94.6, 169.9) -> (94.6, 172.9)
  arc A75 (92.6, 169.9) -> (94.6, 169.9) centre (93.6, 169.9) ccw
  line L472 (92.6, 172.9) -> (92.6, 169.9)
  line L473 (87.4038, 169.9) -> (92.6, 172.9)
  line L474 (70.9962, 169.9) -> (87.4038, 169.9)
  line L475 (65.8, 172.9) -> (70.9962, 169.9)
  line L476 (65.8, 169.9) -> (65.8, 172.9)
  arc A76 (63.8, 169.9) -> (65.8, 169.9) centre (64.8, 169.9) ccw
  line L477 (63.8, 172.9) -> (63.8, 169.9)
  line L478 (58.6038, 169.9) -> (63.8, 172.9)
  line L479 (42.1962, 169.9) -> (58.6038, 169.9)
  line L480 (37, 172.9) -> (42.1962, 169.9)
  line L481 (37, 169.9) -> (37, 172.9)
  arc A77 (35, 169.9) -> (37, 169.9) centre (36, 169.9) ccw
  line L482 (35, 172.9) -> (35, 169.9)
  line L483 (29.8038, 169.9) -> (35, 172.9)
  line L484 (13.3962, 169.9) -> (29.8038, 169.9)
  line L485 (8.2, 172.9) -> (13.3962, 169.9)
  line L486 (8.2, 169.9) -> (8.2, 172.9)
  arc A78 (6.2, 169.9) -> (8.2, 169.9) centre (7.2, 169.9) ccw
  line L487 (6.2, 172.9) -> (6.2, 169.9)
  line L488 (1.0038, 169.9) -> (6.2, 172.9)
  line L489 (-15.4038, 169.9) -> (1.0038, 169.9)
  line L490 (-20.6, 172.9) -> (-15.4038, 169.9)
  line L491 (-20.6, 169.9) -> (-20.6, 172.9)
  arc A79 (-22.6, 169.9) -> (-20.6, 169.9) centre (-21.6, 169.9) ccw
  line L492 (525, 159) -> (519, 159)
  line L493 (519, 159) -> (519, 165)
  line L494 (519, 165) -> (525, 165)
  line L495 (525, 165) -> (525, 159)
  line L496 (525, 141) -> (525, 135)
  line L497 (525, 135) -> (519, 135)
  line L498 (519, 135) -> (519, 141)
  line L499 (519, 141) -> (525, 141)
  line L500 (467.4, 159) -> (461.4, 159)
  line L501 (461.4, 159) -> (461.4, 165)
  line L502 (461.4, 165) -> (467.4, 165)
  line L503 (467.4, 165) -> (467.4, 159)
  line L504 (467.4, 141) -> (467.4, 135)
  line L505 (467.4, 135) -> (461.4, 135)
  line L506 (461.4, 135) -> (461.4, 141)
  line L507 (461.4, 141) -> (467.4, 141)
  line L508 (409.8, 159) -> (403.8, 159)
  line L509 (403.8, 159) -> (403.8, 165)
  line L510 (403.8, 165) -> (409.8, 165)
  line L511 (409.8, 165) -> (409.8, 159)
  line L512 (409.8, 141) -> (409.8, 135)
  line L513 (409.8, 135) -> (403.8, 135)
  line L514 (403.8, 135) -> (403.8, 141)
  line L515 (403.8, 141) -> (409.8, 141)
  line L516 (352.2, 159) -> (346.2, 159)
  line L517 (346.2, 159) -> (346.2, 165)
  line L518 (346.2, 165) -> (352.2, 165)
  line L519 (352.2, 165) -> (352.2, 159)
  line L520 (352.2, 141) -> (352.2, 135)
  line L521 (352.2, 135) -> (346.2, 135)
  line L522 (346.2, 135) -> (346.2, 141)
  line L523 (346.2, 141) -> (352.2, 141)
  line L524 (294.6, 159) -> (288.6, 159)
  line L525 (288.6, 159) -> (288.6, 165)
  line L526 (288.6, 165) -> (294.6, 165)
  line L527 (294.6, 165) -> (294.6, 159)
  line L528 (294.6, 141) -> (294.6, 135)
  line L529 (294.6, 135) -> (288.6, 135)
  line L530 (288.6, 135) -> (288.6, 141)
  line L531 (288.6, 141) -> (294.6, 141)
  line L532 (237, 159) -> (231, 159)
  line L533 (231, 159) -> (231, 165)
  line L534 (231, 165) -> (237, 165)
  line L535 (237, 165) -> (237, 159)
  line L536 (237, 141) -> (237, 135)
  line L537 (237, 135) -> (231, 135)
  line L538 (231, 135) -> (231, 141)
  line L539 (231, 141) -> (237, 141)
  line L540 (179.4, 159) -> (173.4, 159)
  line L541 (173.4, 159) -> (173.4, 165)
  line L542 (173.4, 165) -> (179.4, 165)
  line L543 (179.4, 165) -> (179.4, 159)
  line L544 (179.4, 141) -> (179.4, 135)
  line L545 (179.4, 135) -> (173.4, 135)
  line L546 (173.4, 135) -> (173.4, 141)
  line L547 (173.4, 141) -> (179.4, 141)
  line L548 (121.8, 159) -> (115.8, 159)
  line L549 (115.8, 159) -> (115.8, 165)
  line L550 (115.8, 165) -> (121.8, 165)
  line L551 (121.8, 165) -> (121.8, 159)
  line L552 (121.8, 141) -> (121.8, 135)
  line L553 (121.8, 135) -> (115.8, 135)
  line L554 (115.8, 135) -> (115.8, 141)
  line L555 (115.8, 141) -> (121.8, 141)
  line L556 (64.2, 159) -> (58.2, 159)
  line L557 (58.2, 159) -> (58.2, 165)
  line L558 (58.2, 165) -> (64.2, 165)
  line L559 (64.2, 165) -> (64.2, 159)
  line L560 (64.2, 141) -> (64.2, 135)
  line L561 (64.2, 135) -> (58.2, 135)
  line L562 (58.2, 135) -> (58.2, 141)
  line L563 (58.2, 141) -> (64.2, 141)
  line L564 (6.6, 159) -> (0.6, 159)
  line L565 (0.6, 159) -> (0.6, 165)
  line L566 (0.6, 165) -> (6.6, 165)
  line L567 (6.6, 165) -> (6.6, 159)
  line L568 (6.6, 141) -> (6.6, 135)
  line L569 (6.6, 135) -> (0.6, 135)
  line L570 (0.6, 135) -> (0.6, 141)
  line L571 (0.6, 141) -> (6.6, 141)
  point P0 (341.8591, 61.2945)
extrude "Extrusion1" add sketch "Sketch1" along normal blind 6 and the other way blind 6 contours L238 L239 L240 L241 | L528 L529 L530 L531
sketch "Sketch3" plane through (47.2591, 46.2945, 117.9858) normal (0, -1, 0) x (1, 0, 0)
  line L0 (0, 0) -> (6, 0)
  line L1 (0, 0) -> (6, 0)
  line L2 (6, 0) -> (6, -6)
  line L3 (6, -6) -> (0, -6)
  line L4 (0, -6) -> (0, 0)
  point P0 (-47.2591, -117.9858)
  dimension "d4" = 6
  dimension "d5" = 6
extrude "Extrusion2" add sketch "Sketch3" along normal up to next
sketch "Sketch4" plane through (341.8591, 61.2945, 117.9858) normal (0, 0, 1) x (1, 0, 0)
  line L0 (-294.6, -15) -> (-294.6, -135)
  line L1 (-288.6, -15) -> (-288.6, -135)
  line L2 (-294.6, -100) -> (-288.6, -100)
  line L3 (-288.6, -100) -> (-288.6, -50)
  line L4 (-288.6, -50) -> (-294.6, -50)
  line L5 (-294.6, -50) -> (-294.6, -100)
  line L6 (-288.6, -9) -> (-294.6, -9)
  point P0 (-341.8591, -61.2945)
  point P1 (-291.6, -50)
  point P2 (-291.6, -100)
  point P3 (-291.6, -9)
  point P4 (-294.6, -50)
  dimension "d8" = 50
  dimension "d9" = 41
extrude "Extrusion3" add sketch "Sketch4" along normal blind 114
sketch "Sketch5" plane through (47.2591, 46.2945, 105.9858) normal (-1, 0, 0) x (0, 0, 1)
  line L0 (0, -120) -> (6, -120)
  line L1 (6, -120) -> (12, -120)
  line L2 (12, -126) -> (12, -85)
  line L3 (0, 0) -> (6, 0)
  line L4 (6, 0) -> (12.4408, 0)
  line L5 (12, -120) -> (47, -85)
  line L6 (12, -85) -> (126, -85)
  line L7 (12, -120) -> (61.4975, -120) construction
  line L8 (12, -126) -> (53, -85)
  line L9 (12, -126) -> (12, -120)
  line L10 (47, -85) -> (53, -85)
  line L11 (12.4408, 0) -> (61.3149, 0) construction
  line L12 (12, 0) -> (47, -35)
  line L13 (12, -35) -> (126, -35)
  line L14 (0, 6) -> (12, 6)
  line L15 (12, 6) -> (53, -35)
  line L16 (53, -35) -> (47, -35)
  line L17 (12, 0) -> (12, 6)
  point P0 (-105.9858, -46.2945)
  point P1 (53, -35)
  dimension "d12" = 45
extrude "Extrusion4" add sketch "Sketch5" against normal blind 6 contours L2 L5 L6 L8 | L17 L15 L13 L12
sketch "Sketch9" plane through (341.8591, 61.2945, 231.9858) normal (0, 0, 1) x (1, 0, 0)
  line L0 (-294.6, -100) -> (-288.6, -100)
  line L1 (-288.6, -15) -> (-288.6, -135)
  line L2 (-294.6, -100) -> (-288.6, -100)
  line L3 (-288.6, -100) -> (-288.6, -95)
  line L4 (-288.6, -95) -> (-294.6, -95)
  line L5 (-294.6, -95) -> (-294.6, -100)
  line L6 (-294.6, -95) -> (-288.6, -95)
  line L7 (-288.6, -95) -> (-288.6, -90)
  line L8 (-288.6, -90) -> (-294.6, -90)
  line L9 (-294.6, -90) -> (-294.6, -95)
  line L10 (-294.6, -90) -> (-288.6, -90)
  line L11 (-288.6, -90) -> (-288.6, -85)
  line L12 (-288.6, -85) -> (-294.6, -85)
  line L13 (-294.6, -85) -> (-294.6, -90)
  line L14 (-294.6, -85) -> (-288.6, -85)
  line L15 (-288.6, -85) -> (-288.6, -80)
  line L16 (-288.6, -80) -> (-294.6, -80)
  line L17 (-294.6, -80) -> (-294.6, -85)
  line L18 (-294.6, -80) -> (-288.6, -80)
  line L19 (-288.6, -80) -> (-288.6, -75)
  line L20 (-288.6, -75) -> (-294.6, -75)
  line L21 (-294.6, -75) -> (-294.6, -80)
  line L22 (-294.6, -75) -> (-288.6, -75)
  line L23 (-288.6, -75) -> (-288.6, -70)
  line L24 (-288.6, -70) -> (-294.6, -70)
  line L25 (-294.6, -70) -> (-294.6, -75)
  line L26 (-294.6, -70) -> (-288.6, -70)
  line L27 (-288.6, -70) -> (-288.6, -65)
  line L28 (-288.6, -65) -> (-294.6, -65)
  line L29 (-294.6, -65) -> (-294.6, -70)
  line L30 (-294.6, -65) -> (-288.6, -65)
  line L31 (-288.6, -65) -> (-288.6, -60)
  line L32 (-288.6, -60) -> (-294.6, -60)
  line L33 (-294.6, -60) -> (-294.6, -65)
  line L34 (-294.6, -60) -> (-288.6, -60)
  line L35 (-288.6, -60) -> (-288.6, -55)
  line L36 (-288.6, -55) -> (-294.6, -55)
  line L37 (-294.6, -55) -> (-294.6, -60)
  line L38 (-294.6, -55) -> (-288.6, -55)
  line L39 (-288.6, -55) -> (-288.6, -50)
  line L40 (-288.6, -50) -> (-294.6, -50)
  line L41 (-294.6, -50) -> (-294.6, -55)
  point P0 (-341.8591, -61.2945)
  point P1 (-294.6, -55)
  point P2 (-288.6, -55)
  point P3 (-288.6, -50)
  point P4 (-294.6, -75)
  point P5 (-294.6, -80)
  point P6 (-288.6, -70)
  point P7 (-294.6, -90)
  point P8 (-288.6, -90)
  dimension "d35" = 5
  dimension "d38" = 5
extrude "Extrusion8" add sketch "Sketch9" along normal blind 6 contours L5 L4 L1 L0 | L13 L12 L1 L8 | L21 L20 L1 L16 | L25 L24 L1 L20 | L33 L32 L1 L28 | L41 L40 L1 L36
sketch "Sketch10" plane through (53.2591, -79.7055, 105.9858) normal (1, 0, 0) x (0, 0, -1)
  line L0 (-120, 47) -> (-114, 47)
  line L1 (-114, 47) -> (-114, 53)
  line L2 (-114, 53) -> (-120, 53)
  line L3 (-120, 53) -> (-120, 47)
  line L4 (-53, 41) -> (-132, 41)
  line L5 (-126, 46) -> (-126, 51)
  line L6 (-68, 53) -> (-74, 53)
  line L7 (-74, 53) -> (-74, 47)
  line L8 (-74, 47) -> (-68, 47)
  line L9 (-68, 47) -> (-68, 53)
  line L10 (-68, 79) -> (-68, 85)
  line L11 (-68, 85) -> (-74, 85)
  line L12 (-74, 85) -> (-74, 79)
  line L13 (-74, 79) -> (-68, 79)
  line L14 (-114, 79) -> (-114, 85)
  line L15 (-120, 79) -> (-114, 79)
  line L16 (-114, 85) -> (-120, 85)
  line L17 (-120, 85) -> (-120, 79)
  point P0 (105.9858, 79.7055)
  point P1 (-71, 47)
  point P2 (-114, 50)
  point P3 (-74, 50)
  point P4 (-71, 79)
  point P5 (-74, 82)
  point P6 (-114, 82)
  dimension "d45" = 6
  dimension "d46" = 6
  dimension "d47" = 6
  dimension "d48" = 6
  dimension "d49" = 6
  dimension "d50" = 6
  dimension "d51" = 6
  dimension "d52" = 40
  dimension "d55" = 32
extrude "Extrusion9" cut sketch "Sketch10" against normal blind 6
sketch "Sketch11" plane through (53.2591, -79.7055, 105.9858) normal (1, 0, 0) x (0, 0, -1)
  line L0 (-12, 85) -> (-18, 85)
  line L1 (-18, 85) -> (-18, 79)
  line L2 (-18, 79) -> (-12, 79)
  line L3 (-12, 79) -> (-12, 85)
  line L4 (-6, 126) -> (-6, 6)
  line L5 (-12, 91) -> (-47, 91)
  line L6 (-12, 53) -> (-18, 53)
  line L7 (-18, 53) -> (-18, 47)
  line L8 (-18, 47) -> (-12, 47)
  line L9 (-12, 47) -> (-12, 53)
  line L10 (-12, 41) -> (-47, 41)
  point P0 (105.9858, 79.7055)
  point P1 (-15, 47)
  dimension "d62" = 6
  dimension "d63" = 6
  dimension "d64" = 6
  dimension "d65" = 6
  dimension "d66" = 6
  dimension "d67" = 6
  dimension "d68" = 6
  dimension "d69" = 6
extrude "Extrusion10" cut sketch "Sketch11" against normal blind 6
equation "\"d51\" = d47"
properties part number "FootTopLarge"
